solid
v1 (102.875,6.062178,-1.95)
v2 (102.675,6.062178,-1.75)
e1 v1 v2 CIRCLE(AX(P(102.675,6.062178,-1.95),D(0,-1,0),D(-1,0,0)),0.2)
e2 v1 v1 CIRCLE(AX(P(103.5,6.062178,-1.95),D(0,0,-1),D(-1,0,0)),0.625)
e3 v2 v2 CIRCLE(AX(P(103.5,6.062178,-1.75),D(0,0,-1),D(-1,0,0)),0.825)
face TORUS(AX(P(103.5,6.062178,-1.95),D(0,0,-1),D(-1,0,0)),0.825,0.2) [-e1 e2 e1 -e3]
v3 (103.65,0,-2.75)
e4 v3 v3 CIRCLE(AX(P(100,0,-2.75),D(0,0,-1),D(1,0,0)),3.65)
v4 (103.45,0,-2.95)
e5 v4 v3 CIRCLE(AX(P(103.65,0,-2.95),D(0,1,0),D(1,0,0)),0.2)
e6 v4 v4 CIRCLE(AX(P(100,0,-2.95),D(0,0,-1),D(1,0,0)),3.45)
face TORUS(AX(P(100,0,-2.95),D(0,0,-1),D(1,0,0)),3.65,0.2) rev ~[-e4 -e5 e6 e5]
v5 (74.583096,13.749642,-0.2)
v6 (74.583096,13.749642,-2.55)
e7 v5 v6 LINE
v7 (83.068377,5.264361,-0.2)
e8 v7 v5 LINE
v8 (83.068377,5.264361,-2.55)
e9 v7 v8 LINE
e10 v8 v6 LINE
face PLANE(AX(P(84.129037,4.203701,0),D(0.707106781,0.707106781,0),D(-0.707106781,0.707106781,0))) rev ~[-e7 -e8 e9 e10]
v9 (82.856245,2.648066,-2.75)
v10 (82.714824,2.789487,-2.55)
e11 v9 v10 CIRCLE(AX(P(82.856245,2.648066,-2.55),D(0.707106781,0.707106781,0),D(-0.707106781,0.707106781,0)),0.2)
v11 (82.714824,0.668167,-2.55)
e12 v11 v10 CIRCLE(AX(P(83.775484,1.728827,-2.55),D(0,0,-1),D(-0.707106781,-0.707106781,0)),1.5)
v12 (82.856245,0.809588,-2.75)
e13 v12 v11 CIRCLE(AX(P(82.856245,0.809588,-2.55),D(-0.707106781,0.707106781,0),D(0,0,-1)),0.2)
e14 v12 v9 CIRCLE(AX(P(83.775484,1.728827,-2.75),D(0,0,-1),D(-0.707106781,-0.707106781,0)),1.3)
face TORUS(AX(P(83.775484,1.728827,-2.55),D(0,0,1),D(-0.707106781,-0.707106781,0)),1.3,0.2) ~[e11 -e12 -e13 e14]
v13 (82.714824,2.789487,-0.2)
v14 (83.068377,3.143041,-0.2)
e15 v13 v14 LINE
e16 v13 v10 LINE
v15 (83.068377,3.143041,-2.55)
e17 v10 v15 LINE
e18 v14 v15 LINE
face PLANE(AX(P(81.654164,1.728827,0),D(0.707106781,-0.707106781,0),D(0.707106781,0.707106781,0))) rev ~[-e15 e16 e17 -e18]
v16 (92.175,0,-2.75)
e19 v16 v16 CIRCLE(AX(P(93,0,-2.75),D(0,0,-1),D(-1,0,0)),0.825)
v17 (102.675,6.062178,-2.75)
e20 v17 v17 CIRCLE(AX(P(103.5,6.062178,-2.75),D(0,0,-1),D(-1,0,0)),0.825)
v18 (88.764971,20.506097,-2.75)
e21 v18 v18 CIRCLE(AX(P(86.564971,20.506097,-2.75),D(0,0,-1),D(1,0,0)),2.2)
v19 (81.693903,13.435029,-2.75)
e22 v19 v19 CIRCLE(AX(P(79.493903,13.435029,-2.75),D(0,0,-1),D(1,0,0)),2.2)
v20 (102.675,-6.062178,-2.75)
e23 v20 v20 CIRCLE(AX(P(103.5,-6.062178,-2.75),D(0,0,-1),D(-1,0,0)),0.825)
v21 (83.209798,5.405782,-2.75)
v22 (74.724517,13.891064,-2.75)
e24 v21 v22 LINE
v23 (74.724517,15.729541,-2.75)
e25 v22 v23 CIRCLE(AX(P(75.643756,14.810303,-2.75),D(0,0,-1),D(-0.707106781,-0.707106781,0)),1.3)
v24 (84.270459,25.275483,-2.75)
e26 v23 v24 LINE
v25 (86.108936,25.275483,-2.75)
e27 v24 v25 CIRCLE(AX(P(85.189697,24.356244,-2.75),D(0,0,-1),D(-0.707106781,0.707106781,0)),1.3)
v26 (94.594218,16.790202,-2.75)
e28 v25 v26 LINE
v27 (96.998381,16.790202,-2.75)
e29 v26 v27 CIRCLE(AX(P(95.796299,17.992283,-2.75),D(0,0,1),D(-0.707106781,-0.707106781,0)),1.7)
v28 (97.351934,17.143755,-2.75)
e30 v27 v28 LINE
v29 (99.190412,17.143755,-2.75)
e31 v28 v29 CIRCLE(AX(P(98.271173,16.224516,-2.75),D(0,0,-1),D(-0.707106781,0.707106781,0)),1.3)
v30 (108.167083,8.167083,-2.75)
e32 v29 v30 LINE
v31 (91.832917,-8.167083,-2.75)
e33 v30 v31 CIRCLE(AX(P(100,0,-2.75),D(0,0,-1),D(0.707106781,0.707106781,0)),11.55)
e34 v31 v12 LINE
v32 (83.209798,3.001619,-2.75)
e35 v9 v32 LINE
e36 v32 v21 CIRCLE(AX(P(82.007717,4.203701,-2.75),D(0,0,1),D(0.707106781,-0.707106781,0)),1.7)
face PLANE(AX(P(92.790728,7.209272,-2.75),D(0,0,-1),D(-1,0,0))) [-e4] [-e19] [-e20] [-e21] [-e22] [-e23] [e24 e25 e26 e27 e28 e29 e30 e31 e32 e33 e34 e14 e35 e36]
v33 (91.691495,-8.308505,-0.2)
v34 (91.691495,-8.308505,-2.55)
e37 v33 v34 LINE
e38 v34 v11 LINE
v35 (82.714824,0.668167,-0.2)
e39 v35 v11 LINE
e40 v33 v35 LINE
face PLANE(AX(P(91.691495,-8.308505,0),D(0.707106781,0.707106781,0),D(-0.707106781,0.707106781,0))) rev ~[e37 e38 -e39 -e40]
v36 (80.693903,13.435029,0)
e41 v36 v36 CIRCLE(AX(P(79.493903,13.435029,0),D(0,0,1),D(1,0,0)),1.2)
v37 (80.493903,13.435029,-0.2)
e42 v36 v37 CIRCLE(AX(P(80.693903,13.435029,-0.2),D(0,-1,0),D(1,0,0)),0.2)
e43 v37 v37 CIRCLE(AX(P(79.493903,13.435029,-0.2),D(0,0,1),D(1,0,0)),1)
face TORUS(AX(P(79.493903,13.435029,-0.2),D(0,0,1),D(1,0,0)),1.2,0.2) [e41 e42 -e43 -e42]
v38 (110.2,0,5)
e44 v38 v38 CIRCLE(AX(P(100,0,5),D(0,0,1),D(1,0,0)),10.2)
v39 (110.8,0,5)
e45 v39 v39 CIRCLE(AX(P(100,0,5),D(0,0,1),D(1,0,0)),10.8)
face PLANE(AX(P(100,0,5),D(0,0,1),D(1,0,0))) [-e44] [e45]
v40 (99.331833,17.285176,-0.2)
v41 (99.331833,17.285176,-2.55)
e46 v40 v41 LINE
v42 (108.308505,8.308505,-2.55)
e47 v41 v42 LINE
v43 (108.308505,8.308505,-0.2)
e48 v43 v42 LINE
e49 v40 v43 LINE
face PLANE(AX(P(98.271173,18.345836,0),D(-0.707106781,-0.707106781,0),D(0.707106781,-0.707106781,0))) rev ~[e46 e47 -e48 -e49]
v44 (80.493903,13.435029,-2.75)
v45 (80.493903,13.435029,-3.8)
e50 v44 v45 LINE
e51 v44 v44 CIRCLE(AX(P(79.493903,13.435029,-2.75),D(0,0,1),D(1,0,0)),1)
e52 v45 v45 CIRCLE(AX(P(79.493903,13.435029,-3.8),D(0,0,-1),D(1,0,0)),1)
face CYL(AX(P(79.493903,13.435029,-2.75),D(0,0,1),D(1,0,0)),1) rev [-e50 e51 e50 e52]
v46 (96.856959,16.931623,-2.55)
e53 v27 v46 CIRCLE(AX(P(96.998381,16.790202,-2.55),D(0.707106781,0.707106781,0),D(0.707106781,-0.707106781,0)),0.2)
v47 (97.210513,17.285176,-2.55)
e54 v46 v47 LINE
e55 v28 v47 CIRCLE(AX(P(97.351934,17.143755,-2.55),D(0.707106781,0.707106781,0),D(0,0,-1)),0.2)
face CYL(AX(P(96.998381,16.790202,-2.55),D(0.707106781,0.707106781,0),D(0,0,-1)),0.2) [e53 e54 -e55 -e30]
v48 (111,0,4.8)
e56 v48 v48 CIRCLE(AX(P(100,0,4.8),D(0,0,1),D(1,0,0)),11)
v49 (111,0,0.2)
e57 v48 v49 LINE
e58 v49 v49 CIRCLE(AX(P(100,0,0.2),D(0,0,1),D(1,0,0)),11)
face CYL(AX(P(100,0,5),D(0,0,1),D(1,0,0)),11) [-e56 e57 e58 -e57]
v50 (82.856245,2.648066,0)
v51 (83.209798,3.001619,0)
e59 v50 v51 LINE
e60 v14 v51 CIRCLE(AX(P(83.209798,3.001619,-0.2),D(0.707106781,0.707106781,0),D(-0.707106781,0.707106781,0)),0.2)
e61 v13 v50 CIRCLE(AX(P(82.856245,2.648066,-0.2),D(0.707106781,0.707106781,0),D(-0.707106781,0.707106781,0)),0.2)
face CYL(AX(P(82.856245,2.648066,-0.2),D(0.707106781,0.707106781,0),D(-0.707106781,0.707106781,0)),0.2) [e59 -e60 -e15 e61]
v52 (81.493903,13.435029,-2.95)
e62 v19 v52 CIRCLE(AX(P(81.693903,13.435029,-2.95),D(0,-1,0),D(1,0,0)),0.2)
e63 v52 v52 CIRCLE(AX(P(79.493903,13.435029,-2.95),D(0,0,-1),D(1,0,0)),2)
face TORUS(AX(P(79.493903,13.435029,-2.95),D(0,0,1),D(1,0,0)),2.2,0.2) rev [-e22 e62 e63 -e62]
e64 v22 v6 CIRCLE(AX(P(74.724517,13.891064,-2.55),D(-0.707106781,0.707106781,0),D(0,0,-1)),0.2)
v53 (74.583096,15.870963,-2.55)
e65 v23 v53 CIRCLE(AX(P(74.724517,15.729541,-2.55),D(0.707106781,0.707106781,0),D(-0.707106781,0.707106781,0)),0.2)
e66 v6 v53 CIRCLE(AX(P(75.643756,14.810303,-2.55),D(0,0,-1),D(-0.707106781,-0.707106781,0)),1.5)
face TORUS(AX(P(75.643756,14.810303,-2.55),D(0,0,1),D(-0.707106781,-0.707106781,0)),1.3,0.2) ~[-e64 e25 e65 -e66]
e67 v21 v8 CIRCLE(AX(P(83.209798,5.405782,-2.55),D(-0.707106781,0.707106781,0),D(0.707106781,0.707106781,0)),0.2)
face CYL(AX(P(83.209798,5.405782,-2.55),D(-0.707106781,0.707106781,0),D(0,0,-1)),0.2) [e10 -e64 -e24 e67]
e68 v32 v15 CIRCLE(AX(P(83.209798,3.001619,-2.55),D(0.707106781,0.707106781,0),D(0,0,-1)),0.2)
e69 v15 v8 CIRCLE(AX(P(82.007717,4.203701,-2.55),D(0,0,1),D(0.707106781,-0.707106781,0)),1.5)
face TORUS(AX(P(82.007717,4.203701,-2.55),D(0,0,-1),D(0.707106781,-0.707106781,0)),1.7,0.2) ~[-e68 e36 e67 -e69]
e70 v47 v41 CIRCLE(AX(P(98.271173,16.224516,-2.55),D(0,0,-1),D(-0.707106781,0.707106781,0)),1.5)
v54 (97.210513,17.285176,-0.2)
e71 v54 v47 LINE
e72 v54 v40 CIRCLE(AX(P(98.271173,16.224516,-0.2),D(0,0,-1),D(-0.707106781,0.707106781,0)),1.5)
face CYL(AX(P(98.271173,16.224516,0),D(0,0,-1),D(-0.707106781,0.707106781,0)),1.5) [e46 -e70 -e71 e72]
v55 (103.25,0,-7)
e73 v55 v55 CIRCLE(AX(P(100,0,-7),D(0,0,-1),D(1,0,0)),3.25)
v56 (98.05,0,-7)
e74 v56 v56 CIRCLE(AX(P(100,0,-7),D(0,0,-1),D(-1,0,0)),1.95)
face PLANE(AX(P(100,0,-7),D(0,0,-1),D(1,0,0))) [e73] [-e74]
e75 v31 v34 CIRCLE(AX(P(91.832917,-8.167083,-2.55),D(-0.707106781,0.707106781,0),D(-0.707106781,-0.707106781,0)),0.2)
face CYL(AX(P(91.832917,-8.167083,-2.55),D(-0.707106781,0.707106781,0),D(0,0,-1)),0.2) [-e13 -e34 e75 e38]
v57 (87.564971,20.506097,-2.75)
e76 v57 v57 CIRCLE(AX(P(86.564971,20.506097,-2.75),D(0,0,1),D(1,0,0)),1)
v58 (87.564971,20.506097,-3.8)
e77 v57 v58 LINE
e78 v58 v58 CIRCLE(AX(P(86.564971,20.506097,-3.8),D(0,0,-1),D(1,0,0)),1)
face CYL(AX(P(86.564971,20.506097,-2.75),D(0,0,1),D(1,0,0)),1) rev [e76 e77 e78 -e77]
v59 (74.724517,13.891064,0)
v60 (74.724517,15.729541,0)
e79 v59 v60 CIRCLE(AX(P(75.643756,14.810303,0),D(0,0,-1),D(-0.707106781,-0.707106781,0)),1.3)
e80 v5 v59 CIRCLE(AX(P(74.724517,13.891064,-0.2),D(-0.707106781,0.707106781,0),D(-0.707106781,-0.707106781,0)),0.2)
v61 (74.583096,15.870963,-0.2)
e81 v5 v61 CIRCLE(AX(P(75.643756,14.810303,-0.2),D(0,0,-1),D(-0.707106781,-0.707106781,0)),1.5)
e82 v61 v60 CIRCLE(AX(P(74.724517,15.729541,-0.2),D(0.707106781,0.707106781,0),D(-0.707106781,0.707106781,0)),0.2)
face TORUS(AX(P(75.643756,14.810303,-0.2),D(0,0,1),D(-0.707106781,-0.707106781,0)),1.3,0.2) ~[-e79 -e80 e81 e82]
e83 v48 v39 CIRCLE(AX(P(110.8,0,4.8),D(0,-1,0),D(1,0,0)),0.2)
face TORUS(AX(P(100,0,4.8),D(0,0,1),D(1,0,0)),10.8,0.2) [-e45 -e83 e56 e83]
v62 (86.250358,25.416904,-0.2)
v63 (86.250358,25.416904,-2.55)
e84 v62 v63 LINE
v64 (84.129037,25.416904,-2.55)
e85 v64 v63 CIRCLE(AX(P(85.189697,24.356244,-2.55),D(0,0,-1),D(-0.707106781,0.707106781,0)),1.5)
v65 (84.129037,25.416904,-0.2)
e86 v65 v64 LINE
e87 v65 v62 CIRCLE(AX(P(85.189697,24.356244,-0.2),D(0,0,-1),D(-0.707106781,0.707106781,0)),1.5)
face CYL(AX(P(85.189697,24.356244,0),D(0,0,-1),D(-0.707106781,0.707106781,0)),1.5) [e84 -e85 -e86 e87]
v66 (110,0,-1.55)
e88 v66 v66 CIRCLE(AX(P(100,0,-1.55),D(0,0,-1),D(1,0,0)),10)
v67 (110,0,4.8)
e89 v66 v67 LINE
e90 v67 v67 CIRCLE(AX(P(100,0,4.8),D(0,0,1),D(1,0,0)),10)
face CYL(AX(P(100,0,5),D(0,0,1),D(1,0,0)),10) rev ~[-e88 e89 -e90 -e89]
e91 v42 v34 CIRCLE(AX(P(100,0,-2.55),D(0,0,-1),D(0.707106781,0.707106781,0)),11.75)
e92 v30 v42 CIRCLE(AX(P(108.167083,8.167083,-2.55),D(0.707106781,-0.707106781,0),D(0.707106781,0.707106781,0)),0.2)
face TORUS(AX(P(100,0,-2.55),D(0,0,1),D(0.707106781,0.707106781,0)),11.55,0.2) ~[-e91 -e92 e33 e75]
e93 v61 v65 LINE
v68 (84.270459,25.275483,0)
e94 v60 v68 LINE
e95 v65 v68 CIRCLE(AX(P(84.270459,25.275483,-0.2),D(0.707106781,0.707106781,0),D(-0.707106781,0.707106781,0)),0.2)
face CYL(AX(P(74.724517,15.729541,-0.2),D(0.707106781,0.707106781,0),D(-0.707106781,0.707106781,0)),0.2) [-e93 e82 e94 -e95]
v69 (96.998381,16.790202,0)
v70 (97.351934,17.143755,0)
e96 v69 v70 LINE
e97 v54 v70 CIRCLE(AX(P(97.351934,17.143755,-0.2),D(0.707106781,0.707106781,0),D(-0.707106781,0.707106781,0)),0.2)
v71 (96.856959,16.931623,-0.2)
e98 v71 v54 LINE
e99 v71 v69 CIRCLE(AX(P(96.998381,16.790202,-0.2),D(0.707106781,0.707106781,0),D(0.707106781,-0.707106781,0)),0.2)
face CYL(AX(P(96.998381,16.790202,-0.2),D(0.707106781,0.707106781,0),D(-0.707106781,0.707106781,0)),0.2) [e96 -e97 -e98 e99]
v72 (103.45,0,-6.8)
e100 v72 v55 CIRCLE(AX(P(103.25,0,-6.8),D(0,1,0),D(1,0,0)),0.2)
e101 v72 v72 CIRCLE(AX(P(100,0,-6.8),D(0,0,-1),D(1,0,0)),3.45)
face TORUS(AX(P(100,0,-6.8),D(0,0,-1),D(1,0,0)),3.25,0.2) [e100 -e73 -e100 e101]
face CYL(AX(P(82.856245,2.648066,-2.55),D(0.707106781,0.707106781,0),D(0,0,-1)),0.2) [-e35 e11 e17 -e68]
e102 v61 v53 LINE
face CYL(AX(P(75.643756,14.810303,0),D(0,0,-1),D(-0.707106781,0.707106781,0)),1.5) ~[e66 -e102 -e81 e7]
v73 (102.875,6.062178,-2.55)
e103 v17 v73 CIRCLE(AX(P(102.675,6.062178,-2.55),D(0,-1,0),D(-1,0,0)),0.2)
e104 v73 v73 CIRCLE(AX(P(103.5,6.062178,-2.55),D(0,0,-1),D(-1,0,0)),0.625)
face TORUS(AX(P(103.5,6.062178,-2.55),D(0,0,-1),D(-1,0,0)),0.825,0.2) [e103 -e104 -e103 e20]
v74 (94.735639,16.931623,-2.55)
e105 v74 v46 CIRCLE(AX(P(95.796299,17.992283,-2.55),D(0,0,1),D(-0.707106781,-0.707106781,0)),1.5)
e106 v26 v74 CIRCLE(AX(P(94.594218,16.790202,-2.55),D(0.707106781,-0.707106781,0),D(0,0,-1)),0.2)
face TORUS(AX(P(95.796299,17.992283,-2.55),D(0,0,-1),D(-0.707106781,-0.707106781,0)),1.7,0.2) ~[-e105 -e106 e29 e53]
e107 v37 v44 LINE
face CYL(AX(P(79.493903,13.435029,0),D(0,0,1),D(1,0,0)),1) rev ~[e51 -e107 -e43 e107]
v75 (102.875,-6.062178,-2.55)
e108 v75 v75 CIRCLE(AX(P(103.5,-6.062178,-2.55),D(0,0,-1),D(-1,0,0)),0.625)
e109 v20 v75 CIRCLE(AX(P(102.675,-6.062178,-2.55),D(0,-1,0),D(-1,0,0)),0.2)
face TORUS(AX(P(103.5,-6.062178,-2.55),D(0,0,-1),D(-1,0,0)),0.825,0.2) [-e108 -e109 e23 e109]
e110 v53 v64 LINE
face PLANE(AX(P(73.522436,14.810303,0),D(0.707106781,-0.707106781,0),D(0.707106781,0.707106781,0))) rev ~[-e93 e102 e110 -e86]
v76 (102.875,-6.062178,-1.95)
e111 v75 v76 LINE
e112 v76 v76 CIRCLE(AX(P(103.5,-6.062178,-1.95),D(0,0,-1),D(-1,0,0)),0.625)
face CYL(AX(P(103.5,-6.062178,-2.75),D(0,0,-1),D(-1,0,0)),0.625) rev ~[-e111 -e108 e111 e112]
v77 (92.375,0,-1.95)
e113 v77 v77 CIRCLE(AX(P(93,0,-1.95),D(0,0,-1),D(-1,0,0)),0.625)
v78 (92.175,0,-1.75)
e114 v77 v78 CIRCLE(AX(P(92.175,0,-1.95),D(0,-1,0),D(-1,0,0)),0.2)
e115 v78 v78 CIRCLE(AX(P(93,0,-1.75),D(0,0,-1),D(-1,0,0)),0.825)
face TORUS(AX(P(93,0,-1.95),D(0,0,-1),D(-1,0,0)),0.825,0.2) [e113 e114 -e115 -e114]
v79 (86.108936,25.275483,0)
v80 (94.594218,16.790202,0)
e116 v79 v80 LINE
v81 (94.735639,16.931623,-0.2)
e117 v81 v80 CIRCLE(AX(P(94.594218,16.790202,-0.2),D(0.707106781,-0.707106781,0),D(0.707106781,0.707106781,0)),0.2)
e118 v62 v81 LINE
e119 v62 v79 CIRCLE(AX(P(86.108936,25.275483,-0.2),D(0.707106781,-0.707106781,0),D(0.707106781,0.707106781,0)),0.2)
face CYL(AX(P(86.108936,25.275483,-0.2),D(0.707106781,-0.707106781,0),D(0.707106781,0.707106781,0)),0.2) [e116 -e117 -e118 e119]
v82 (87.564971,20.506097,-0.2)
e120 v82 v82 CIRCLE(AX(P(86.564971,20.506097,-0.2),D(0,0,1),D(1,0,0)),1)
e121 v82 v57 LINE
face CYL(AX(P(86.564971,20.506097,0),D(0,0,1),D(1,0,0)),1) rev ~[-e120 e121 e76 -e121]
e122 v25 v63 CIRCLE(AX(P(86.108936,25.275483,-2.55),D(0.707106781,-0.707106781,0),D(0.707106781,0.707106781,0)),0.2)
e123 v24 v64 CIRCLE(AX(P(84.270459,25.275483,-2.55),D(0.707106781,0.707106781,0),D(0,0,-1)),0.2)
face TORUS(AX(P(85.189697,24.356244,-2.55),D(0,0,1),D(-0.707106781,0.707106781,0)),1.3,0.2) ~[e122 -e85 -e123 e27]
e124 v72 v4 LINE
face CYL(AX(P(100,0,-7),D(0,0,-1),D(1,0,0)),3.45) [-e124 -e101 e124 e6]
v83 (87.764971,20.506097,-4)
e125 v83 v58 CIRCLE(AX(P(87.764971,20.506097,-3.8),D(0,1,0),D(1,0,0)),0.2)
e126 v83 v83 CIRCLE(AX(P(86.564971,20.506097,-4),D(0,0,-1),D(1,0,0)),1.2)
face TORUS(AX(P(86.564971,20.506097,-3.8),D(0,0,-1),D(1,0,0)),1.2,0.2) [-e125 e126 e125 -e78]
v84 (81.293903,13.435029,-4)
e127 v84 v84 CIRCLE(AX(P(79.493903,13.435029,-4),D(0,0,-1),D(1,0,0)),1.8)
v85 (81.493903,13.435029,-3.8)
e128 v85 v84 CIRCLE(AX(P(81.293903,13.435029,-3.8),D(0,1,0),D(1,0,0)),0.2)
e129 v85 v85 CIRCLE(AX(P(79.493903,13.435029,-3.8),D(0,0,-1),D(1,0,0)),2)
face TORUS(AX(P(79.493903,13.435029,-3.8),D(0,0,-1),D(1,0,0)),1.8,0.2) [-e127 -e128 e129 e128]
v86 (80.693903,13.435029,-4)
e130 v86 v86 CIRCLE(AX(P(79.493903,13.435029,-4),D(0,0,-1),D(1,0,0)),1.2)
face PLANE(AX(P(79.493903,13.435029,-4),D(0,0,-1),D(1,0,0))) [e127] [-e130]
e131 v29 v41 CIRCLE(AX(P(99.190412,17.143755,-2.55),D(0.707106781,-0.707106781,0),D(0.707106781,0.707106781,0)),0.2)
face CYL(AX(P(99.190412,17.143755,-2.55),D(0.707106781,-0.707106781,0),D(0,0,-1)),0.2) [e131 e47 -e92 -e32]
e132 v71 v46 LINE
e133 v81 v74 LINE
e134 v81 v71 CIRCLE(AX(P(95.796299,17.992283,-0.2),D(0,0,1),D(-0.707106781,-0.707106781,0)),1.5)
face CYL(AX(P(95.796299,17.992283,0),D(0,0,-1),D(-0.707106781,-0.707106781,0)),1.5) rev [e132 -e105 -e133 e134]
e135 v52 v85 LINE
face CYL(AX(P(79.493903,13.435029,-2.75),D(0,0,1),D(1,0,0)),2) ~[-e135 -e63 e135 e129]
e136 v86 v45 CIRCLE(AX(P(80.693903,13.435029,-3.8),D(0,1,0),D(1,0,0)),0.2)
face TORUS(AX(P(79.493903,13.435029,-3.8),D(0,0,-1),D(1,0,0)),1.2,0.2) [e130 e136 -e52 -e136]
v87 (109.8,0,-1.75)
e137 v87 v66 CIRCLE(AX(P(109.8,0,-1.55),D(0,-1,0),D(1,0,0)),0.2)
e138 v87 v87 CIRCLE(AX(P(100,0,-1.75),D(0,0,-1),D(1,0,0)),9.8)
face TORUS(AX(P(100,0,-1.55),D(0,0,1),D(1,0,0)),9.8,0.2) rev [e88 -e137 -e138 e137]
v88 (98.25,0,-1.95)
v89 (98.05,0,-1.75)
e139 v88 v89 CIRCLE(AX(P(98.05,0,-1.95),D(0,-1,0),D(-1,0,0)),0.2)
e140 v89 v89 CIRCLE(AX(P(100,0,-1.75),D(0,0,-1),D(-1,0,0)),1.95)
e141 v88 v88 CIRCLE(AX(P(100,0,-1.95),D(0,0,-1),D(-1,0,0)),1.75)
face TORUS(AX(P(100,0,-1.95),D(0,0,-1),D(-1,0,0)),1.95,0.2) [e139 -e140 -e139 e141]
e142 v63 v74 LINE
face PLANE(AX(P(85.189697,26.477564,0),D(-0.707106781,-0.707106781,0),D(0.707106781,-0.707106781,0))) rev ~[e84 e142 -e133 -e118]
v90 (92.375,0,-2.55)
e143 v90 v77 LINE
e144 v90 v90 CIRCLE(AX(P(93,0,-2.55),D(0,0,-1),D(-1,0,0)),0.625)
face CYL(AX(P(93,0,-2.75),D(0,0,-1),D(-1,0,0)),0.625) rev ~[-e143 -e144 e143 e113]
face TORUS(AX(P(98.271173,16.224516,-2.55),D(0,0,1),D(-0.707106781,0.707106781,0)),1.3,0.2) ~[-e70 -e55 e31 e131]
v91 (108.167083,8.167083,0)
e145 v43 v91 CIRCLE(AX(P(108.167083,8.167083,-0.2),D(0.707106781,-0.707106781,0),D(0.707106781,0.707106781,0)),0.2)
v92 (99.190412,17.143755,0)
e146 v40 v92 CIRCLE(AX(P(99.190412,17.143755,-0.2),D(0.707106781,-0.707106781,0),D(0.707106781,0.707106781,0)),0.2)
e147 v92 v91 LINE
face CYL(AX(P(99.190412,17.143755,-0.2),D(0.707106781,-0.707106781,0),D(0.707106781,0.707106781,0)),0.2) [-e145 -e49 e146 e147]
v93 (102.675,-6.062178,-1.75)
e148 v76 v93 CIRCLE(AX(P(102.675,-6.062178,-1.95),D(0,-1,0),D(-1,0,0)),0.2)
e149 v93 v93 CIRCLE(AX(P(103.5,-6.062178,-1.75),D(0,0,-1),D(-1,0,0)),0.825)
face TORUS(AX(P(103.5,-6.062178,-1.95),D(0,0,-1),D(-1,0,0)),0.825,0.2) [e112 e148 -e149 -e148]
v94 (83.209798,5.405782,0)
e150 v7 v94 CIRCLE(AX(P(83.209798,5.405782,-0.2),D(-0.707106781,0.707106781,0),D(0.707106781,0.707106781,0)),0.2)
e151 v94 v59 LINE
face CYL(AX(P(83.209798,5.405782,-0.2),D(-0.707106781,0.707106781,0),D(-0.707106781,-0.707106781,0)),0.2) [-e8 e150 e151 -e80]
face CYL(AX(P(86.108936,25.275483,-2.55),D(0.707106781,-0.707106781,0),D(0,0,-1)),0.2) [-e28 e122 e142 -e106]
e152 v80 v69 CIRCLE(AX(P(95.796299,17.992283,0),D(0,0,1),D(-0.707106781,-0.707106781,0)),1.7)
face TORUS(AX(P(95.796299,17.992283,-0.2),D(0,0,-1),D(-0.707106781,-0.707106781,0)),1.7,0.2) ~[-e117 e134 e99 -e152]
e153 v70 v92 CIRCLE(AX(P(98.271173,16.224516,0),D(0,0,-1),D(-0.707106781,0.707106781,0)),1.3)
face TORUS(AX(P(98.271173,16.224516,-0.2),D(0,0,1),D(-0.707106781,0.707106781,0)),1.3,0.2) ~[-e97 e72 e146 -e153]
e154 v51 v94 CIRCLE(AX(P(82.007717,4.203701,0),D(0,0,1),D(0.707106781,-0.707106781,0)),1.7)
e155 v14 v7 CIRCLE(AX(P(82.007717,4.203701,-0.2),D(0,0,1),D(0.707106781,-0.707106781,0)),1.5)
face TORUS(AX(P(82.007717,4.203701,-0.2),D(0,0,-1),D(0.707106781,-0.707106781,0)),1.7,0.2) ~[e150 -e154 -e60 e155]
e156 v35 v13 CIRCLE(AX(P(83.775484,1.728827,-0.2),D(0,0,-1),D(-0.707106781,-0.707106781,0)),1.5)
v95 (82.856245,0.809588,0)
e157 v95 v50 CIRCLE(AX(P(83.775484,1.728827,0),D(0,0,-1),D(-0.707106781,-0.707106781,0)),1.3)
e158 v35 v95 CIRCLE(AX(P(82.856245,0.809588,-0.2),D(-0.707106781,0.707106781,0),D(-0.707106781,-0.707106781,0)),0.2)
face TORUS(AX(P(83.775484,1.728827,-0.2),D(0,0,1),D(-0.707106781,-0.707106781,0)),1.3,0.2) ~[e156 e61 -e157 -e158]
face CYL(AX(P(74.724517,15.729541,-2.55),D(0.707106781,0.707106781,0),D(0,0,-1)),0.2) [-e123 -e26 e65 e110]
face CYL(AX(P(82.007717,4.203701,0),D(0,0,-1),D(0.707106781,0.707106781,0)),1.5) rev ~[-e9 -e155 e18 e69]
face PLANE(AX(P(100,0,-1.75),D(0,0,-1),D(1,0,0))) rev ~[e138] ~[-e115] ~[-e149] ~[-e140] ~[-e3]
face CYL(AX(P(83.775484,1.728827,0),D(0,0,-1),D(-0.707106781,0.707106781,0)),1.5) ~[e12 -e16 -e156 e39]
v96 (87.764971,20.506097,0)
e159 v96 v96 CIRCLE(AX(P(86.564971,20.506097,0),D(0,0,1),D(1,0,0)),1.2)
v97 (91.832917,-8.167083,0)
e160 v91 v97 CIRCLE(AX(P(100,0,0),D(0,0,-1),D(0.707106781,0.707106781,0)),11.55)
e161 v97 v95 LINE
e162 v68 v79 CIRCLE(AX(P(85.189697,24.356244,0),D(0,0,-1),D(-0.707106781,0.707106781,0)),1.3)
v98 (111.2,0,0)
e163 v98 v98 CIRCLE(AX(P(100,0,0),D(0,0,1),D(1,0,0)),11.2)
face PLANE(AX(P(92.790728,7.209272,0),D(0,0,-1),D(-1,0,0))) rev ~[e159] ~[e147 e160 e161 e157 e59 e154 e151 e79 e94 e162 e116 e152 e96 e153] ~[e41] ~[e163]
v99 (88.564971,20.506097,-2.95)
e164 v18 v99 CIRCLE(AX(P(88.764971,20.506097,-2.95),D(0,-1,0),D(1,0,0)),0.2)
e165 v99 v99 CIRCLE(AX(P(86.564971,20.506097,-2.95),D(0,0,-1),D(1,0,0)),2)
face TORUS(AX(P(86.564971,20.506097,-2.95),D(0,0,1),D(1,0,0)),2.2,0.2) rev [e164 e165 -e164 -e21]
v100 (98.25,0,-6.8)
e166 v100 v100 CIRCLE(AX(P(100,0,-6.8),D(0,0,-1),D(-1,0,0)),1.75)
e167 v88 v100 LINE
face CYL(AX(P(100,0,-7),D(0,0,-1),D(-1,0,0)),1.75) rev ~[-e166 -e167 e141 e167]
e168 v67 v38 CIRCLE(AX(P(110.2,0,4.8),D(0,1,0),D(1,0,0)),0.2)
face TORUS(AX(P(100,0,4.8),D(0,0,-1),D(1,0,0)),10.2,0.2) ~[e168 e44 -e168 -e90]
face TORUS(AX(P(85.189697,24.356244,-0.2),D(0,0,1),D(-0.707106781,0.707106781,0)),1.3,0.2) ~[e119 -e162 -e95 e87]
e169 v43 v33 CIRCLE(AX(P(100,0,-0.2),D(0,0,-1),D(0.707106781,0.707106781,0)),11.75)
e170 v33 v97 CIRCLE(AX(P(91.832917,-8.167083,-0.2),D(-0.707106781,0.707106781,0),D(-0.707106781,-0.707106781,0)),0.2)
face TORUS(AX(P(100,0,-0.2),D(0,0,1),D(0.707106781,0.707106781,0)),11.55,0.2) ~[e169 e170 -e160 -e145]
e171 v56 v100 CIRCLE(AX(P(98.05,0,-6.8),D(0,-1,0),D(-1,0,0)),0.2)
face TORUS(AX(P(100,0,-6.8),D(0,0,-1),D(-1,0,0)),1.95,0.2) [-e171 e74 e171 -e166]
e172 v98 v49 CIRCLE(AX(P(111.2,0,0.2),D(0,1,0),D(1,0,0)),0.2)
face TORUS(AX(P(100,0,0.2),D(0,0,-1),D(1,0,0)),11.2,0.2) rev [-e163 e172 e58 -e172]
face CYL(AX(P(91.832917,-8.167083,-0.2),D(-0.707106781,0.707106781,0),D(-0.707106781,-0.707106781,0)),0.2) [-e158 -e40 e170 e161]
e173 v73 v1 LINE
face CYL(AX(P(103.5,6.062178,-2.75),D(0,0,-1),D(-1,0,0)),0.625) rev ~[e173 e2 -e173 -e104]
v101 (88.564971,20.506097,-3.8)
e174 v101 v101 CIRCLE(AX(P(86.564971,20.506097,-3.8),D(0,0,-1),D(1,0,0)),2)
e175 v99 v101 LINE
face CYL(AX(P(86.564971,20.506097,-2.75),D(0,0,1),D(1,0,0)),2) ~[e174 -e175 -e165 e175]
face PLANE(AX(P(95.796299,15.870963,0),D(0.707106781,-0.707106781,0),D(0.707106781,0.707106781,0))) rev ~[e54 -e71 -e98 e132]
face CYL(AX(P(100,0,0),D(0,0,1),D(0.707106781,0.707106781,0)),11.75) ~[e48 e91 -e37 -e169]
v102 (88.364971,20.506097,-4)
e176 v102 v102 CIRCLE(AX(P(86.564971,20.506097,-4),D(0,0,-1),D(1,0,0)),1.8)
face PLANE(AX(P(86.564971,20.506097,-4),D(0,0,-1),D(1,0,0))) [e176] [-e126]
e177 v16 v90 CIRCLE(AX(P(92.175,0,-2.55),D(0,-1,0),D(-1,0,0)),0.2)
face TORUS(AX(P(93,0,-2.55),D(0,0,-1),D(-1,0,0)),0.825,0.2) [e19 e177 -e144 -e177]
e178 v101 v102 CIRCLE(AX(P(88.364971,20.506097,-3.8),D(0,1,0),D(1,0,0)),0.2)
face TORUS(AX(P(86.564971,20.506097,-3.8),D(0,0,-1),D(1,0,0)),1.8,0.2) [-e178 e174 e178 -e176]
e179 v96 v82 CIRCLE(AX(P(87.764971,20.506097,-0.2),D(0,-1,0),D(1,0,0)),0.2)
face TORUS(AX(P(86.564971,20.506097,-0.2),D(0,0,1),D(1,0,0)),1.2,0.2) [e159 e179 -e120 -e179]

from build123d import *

# Parameters (mm, degrees)
SKETCH6_R           = 10
SKETCH6_R_2         = 1
BOSS_EXTRUDE1_DEPTH = 2.75
BOSS_EXTRUDE2_START = -1
SKETCH7_R           = 10
BOSS_EXTRUDE2_DEPTH = 1
BOSS_EXTRUDE3_START = 5
SKETCH8_R           = 11
SKETCH8_R_2         = 10
BOSS_EXTRUDE3_DEPTH = 5
SKETCH9_R           = 2
SKETCH9_R_2         = 1
BOSS_EXTRUDE4_DEPTH = 1.25
FILLET1_R           = 1.5
SKETCH10_R          = 1.75
CUT_EXTRUDE1_DEPTH  = 1.25
BOSS_EXTRUDE5_START = 4.25
SKETCH11_R          = 3.45
SKETCH11_R_2        = 1.75
BOSS_EXTRUDE5_DEPTH = 4.25
SKETCH12_R          = 0.625
CUT_EXTRUDE2_DEPTH  = 4.25
FILLET3_R           = 0.2


with BuildPart() as part:
    # Sketch6 → Boss-Extrude1 (new body)
    with BuildSketch(Plane.XY):
        with BuildLine():
            Line((73.522435529, 14.810302582), (85.189697418, 26.477564471))
            Line((85.189697418, 26.477564471), (95.796299136, 15.870962753))
            Line((95.796299136, 15.870962753), (98.27117287, 18.345836488))
            Line((98.27117287, 18.345836488), (108.308504679, 8.308504679))
            ThreePointArc((108.308504679, 8.308504679), (108.308504679, -8.308504679), (91.691495321, -8.308504679))
            Line((91.691495321, -8.308504679), (81.654163512, 1.72882713))
            Line((81.654163512, 1.72882713), (84.129037247, 4.203700864))
            Line((84.129037247, 4.203700864), (73.522435529, 14.810302582))
        make_face()
        with Locations((100, 0)):
            Circle(SKETCH6_R, mode=Mode.SUBTRACT)
        with Locations((79.493903346, 13.435028843)):
            Circle(SKETCH6_R_2, mode=Mode.SUBTRACT)
        with Locations((86.564971157, 20.506096654)):
            Circle(SKETCH6_R_2, mode=Mode.SUBTRACT)
    extrude(amount=-BOSS_EXTRUDE1_DEPTH)

    # Sketch7 → Boss-Extrude2 (add)
    with BuildSketch(Plane(origin=(0, 0, -2.75), x_dir=(-1, 0, 0), z_dir=(0, 0, -1)).offset(BOSS_EXTRUDE2_START)):
        with Locations(Location((-100, 0, 0), (0, 0, 180))):
            Circle(SKETCH7_R)
    extrude(amount=BOSS_EXTRUDE2_DEPTH)

    # Sketch8 → Boss-Extrude3 (add)
    with BuildSketch(Plane.XY.offset(BOSS_EXTRUDE3_START)):
        with Locations((100, 0)):
            Circle(SKETCH8_R)
        with Locations((100, 0)):
            Circle(SKETCH8_R_2, mode=Mode.SUBTRACT)
    extrude(amount=-BOSS_EXTRUDE3_DEPTH)

    # Sketch9 → Boss-Extrude4 (add)
    # profile 1 of 2: a face of its own
    with BuildSketch(Plane(origin=(0, 0, -2.75), x_dir=(-1, 0, 0), z_dir=(0, 0, -1))):
        with Locations(Location((-86.564971157, 20.506096654, 0), (0, 0, 180))):
            Circle(SKETCH9_R)
        with Locations(Location((-86.564971157, 20.506096654, 0), (0, 0, 180))):
            Circle(SKETCH9_R_2, mode=Mode.SUBTRACT)
    # profile 2 of 2: a face of its own
    with BuildSketch(Plane(origin=(0, 0, -2.75), x_dir=(-1, 0, 0), z_dir=(0, 0, -1))):
        with Locations(Location((-79.493903346, 13.435028843, 0), (0, 0, 180))):
            Circle(SKETCH9_R)
        with Locations(Location((-79.493903346, 13.435028843, 0), (0, 0, 180))):
            Circle(SKETCH9_R_2, mode=Mode.SUBTRACT)
    extrude(amount=BOSS_EXTRUDE4_DEPTH)

    # Fillet1
    fillet1_edges = [part.edges().sort_by_distance(p)[0] for p in [
        (73.522435529, 14.810302582, -1.375),
        (85.189697418, 26.477564471, -1.375),
        (95.796299136, 15.870962753, -1.375),
        (98.27117287, 18.345836488, -1.375),
        (81.654163512, 1.72882713, -1.375),
        (84.129037247, 4.203700864, -1.375),
    ]]
    fillet(fillet1_edges, radius=FILLET1_R)

    # Sketch10 → Cut-Extrude1 (cut)
    with BuildSketch(Plane(origin=(0, 0, -2.75), x_dir=(-1, 0, 0), z_dir=(0, 0, -1))):
        with Locations((-100, 0)):
            Circle(SKETCH10_R)
    extrude(amount=-CUT_EXTRUDE1_DEPTH, mode=Mode.SUBTRACT)

    # Sketch11 → Boss-Extrude5 (add)
    with BuildSketch(Plane(origin=(0, 0, -2.75), x_dir=(-1, 0, 0), z_dir=(0, 0, -1)).offset(BOSS_EXTRUDE5_START)):
        with Locations(Location((-100, 0, 0), (0, 0, 180))):
            Circle(SKETCH11_R)
        with Locations((-100, 0)):
            Circle(SKETCH11_R_2, mode=Mode.SUBTRACT)
    extrude(amount=-BOSS_EXTRUDE5_DEPTH)

    # Sketch12 → Cut-Extrude2 (cut)
    with BuildSketch(Plane(origin=(0, 0, -2.75), x_dir=(-1, 0, 0), z_dir=(0, 0, -1))):
        with Locations((-93, 0)):
            Circle(SKETCH12_R)
        with Locations((-103.5, -6.062177826)):
            Circle(SKETCH12_R)
        with Locations((-103.5, 6.062177826)):
            Circle(SKETCH12_R)
    extrude(amount=-CUT_EXTRUDE2_DEPTH, mode=Mode.SUBTRACT)

    # Fillet3
    fillet3_edges = [part.edges().sort_by_distance(p)[0] for p in [
        (108.308504679, -8.308504679, 0),
        (101.75, 0, -1.75),
        (96.55, 0, -2.75),
        (96.55, 0, -7),
        (101.75, 0, -7),
        (93.625, 0, -1.75),
        (93.625, 0, -2.75),
        (104.125, -6.062177826, -1.75),
        (104.125, -6.062177826, -2.75),
        (104.125, 6.062177826, -1.75),
        (104.125, 6.062177826, -2.75),
        (108.308504679, -8.308504679, -2.75),
        (103.820168861, 12.796840497, -2.75),
        (78.493903346, 13.435028843, 0),
        (85.564971157, 20.506096654, 0),
        (90, 0, -1.75),
        (89, 0, 5),
        (89, 0, 0),
        (90, 0, 5),
        (84.564971157, 20.506096654, -2.75),
        (84.564971157, 20.506096654, -4),
        (85.564971157, 20.506096654, -4),
        (77.493903346, 13.435028843, -2.75),
        (77.493903346, 13.435028843, -4),
        (78.493903346, 13.435028843, -4),
        (78.825736388, 9.507001723, 0),
        (78.825736388, 9.507001723, -2.75),
        (82.891600379, 2.966263997, 0),
        (82.891600379, 2.966263997, -2.75),
        (87.203159503, -3.820168861, 0),
        (97.033736003, 17.108399621, 0),
        (90.492998277, 21.174263612, 0),
        (79.356066474, 20.643933526, 0),
        (74.143755872, 14.810302582, 0),
        (85.189697418, 25.856244128, 0),
        (98.27117287, 17.724516144, 0),
        (82.275483856, 1.72882713, 0),
        (87.203159503, -3.820168861, -2.75),
        (79.356066474, 20.643933526, -2.75),
        (90.492998277, 21.174263612, -2.75),
        (97.033736003, 17.108399621, -2.75),
        (74.143755872, 14.810302582, -2.75),
        (85.189697418, 25.856244128, -2.75),
        (98.27117287, 17.724516144, -2.75),
        (82.275483856, 1.72882713, -2.75),
        (83.507716903, 4.203700864, 0),
        (83.507716903, 4.203700864, -2.75),
        (95.796299136, 16.492283097, 0),
        (95.796299136, 16.492283097, -2.75),
        (103.820168861, 12.796840497, 0),
    ]]
    fillet(fillet3_edges, radius=FILLET3_R)


solid = part.part
